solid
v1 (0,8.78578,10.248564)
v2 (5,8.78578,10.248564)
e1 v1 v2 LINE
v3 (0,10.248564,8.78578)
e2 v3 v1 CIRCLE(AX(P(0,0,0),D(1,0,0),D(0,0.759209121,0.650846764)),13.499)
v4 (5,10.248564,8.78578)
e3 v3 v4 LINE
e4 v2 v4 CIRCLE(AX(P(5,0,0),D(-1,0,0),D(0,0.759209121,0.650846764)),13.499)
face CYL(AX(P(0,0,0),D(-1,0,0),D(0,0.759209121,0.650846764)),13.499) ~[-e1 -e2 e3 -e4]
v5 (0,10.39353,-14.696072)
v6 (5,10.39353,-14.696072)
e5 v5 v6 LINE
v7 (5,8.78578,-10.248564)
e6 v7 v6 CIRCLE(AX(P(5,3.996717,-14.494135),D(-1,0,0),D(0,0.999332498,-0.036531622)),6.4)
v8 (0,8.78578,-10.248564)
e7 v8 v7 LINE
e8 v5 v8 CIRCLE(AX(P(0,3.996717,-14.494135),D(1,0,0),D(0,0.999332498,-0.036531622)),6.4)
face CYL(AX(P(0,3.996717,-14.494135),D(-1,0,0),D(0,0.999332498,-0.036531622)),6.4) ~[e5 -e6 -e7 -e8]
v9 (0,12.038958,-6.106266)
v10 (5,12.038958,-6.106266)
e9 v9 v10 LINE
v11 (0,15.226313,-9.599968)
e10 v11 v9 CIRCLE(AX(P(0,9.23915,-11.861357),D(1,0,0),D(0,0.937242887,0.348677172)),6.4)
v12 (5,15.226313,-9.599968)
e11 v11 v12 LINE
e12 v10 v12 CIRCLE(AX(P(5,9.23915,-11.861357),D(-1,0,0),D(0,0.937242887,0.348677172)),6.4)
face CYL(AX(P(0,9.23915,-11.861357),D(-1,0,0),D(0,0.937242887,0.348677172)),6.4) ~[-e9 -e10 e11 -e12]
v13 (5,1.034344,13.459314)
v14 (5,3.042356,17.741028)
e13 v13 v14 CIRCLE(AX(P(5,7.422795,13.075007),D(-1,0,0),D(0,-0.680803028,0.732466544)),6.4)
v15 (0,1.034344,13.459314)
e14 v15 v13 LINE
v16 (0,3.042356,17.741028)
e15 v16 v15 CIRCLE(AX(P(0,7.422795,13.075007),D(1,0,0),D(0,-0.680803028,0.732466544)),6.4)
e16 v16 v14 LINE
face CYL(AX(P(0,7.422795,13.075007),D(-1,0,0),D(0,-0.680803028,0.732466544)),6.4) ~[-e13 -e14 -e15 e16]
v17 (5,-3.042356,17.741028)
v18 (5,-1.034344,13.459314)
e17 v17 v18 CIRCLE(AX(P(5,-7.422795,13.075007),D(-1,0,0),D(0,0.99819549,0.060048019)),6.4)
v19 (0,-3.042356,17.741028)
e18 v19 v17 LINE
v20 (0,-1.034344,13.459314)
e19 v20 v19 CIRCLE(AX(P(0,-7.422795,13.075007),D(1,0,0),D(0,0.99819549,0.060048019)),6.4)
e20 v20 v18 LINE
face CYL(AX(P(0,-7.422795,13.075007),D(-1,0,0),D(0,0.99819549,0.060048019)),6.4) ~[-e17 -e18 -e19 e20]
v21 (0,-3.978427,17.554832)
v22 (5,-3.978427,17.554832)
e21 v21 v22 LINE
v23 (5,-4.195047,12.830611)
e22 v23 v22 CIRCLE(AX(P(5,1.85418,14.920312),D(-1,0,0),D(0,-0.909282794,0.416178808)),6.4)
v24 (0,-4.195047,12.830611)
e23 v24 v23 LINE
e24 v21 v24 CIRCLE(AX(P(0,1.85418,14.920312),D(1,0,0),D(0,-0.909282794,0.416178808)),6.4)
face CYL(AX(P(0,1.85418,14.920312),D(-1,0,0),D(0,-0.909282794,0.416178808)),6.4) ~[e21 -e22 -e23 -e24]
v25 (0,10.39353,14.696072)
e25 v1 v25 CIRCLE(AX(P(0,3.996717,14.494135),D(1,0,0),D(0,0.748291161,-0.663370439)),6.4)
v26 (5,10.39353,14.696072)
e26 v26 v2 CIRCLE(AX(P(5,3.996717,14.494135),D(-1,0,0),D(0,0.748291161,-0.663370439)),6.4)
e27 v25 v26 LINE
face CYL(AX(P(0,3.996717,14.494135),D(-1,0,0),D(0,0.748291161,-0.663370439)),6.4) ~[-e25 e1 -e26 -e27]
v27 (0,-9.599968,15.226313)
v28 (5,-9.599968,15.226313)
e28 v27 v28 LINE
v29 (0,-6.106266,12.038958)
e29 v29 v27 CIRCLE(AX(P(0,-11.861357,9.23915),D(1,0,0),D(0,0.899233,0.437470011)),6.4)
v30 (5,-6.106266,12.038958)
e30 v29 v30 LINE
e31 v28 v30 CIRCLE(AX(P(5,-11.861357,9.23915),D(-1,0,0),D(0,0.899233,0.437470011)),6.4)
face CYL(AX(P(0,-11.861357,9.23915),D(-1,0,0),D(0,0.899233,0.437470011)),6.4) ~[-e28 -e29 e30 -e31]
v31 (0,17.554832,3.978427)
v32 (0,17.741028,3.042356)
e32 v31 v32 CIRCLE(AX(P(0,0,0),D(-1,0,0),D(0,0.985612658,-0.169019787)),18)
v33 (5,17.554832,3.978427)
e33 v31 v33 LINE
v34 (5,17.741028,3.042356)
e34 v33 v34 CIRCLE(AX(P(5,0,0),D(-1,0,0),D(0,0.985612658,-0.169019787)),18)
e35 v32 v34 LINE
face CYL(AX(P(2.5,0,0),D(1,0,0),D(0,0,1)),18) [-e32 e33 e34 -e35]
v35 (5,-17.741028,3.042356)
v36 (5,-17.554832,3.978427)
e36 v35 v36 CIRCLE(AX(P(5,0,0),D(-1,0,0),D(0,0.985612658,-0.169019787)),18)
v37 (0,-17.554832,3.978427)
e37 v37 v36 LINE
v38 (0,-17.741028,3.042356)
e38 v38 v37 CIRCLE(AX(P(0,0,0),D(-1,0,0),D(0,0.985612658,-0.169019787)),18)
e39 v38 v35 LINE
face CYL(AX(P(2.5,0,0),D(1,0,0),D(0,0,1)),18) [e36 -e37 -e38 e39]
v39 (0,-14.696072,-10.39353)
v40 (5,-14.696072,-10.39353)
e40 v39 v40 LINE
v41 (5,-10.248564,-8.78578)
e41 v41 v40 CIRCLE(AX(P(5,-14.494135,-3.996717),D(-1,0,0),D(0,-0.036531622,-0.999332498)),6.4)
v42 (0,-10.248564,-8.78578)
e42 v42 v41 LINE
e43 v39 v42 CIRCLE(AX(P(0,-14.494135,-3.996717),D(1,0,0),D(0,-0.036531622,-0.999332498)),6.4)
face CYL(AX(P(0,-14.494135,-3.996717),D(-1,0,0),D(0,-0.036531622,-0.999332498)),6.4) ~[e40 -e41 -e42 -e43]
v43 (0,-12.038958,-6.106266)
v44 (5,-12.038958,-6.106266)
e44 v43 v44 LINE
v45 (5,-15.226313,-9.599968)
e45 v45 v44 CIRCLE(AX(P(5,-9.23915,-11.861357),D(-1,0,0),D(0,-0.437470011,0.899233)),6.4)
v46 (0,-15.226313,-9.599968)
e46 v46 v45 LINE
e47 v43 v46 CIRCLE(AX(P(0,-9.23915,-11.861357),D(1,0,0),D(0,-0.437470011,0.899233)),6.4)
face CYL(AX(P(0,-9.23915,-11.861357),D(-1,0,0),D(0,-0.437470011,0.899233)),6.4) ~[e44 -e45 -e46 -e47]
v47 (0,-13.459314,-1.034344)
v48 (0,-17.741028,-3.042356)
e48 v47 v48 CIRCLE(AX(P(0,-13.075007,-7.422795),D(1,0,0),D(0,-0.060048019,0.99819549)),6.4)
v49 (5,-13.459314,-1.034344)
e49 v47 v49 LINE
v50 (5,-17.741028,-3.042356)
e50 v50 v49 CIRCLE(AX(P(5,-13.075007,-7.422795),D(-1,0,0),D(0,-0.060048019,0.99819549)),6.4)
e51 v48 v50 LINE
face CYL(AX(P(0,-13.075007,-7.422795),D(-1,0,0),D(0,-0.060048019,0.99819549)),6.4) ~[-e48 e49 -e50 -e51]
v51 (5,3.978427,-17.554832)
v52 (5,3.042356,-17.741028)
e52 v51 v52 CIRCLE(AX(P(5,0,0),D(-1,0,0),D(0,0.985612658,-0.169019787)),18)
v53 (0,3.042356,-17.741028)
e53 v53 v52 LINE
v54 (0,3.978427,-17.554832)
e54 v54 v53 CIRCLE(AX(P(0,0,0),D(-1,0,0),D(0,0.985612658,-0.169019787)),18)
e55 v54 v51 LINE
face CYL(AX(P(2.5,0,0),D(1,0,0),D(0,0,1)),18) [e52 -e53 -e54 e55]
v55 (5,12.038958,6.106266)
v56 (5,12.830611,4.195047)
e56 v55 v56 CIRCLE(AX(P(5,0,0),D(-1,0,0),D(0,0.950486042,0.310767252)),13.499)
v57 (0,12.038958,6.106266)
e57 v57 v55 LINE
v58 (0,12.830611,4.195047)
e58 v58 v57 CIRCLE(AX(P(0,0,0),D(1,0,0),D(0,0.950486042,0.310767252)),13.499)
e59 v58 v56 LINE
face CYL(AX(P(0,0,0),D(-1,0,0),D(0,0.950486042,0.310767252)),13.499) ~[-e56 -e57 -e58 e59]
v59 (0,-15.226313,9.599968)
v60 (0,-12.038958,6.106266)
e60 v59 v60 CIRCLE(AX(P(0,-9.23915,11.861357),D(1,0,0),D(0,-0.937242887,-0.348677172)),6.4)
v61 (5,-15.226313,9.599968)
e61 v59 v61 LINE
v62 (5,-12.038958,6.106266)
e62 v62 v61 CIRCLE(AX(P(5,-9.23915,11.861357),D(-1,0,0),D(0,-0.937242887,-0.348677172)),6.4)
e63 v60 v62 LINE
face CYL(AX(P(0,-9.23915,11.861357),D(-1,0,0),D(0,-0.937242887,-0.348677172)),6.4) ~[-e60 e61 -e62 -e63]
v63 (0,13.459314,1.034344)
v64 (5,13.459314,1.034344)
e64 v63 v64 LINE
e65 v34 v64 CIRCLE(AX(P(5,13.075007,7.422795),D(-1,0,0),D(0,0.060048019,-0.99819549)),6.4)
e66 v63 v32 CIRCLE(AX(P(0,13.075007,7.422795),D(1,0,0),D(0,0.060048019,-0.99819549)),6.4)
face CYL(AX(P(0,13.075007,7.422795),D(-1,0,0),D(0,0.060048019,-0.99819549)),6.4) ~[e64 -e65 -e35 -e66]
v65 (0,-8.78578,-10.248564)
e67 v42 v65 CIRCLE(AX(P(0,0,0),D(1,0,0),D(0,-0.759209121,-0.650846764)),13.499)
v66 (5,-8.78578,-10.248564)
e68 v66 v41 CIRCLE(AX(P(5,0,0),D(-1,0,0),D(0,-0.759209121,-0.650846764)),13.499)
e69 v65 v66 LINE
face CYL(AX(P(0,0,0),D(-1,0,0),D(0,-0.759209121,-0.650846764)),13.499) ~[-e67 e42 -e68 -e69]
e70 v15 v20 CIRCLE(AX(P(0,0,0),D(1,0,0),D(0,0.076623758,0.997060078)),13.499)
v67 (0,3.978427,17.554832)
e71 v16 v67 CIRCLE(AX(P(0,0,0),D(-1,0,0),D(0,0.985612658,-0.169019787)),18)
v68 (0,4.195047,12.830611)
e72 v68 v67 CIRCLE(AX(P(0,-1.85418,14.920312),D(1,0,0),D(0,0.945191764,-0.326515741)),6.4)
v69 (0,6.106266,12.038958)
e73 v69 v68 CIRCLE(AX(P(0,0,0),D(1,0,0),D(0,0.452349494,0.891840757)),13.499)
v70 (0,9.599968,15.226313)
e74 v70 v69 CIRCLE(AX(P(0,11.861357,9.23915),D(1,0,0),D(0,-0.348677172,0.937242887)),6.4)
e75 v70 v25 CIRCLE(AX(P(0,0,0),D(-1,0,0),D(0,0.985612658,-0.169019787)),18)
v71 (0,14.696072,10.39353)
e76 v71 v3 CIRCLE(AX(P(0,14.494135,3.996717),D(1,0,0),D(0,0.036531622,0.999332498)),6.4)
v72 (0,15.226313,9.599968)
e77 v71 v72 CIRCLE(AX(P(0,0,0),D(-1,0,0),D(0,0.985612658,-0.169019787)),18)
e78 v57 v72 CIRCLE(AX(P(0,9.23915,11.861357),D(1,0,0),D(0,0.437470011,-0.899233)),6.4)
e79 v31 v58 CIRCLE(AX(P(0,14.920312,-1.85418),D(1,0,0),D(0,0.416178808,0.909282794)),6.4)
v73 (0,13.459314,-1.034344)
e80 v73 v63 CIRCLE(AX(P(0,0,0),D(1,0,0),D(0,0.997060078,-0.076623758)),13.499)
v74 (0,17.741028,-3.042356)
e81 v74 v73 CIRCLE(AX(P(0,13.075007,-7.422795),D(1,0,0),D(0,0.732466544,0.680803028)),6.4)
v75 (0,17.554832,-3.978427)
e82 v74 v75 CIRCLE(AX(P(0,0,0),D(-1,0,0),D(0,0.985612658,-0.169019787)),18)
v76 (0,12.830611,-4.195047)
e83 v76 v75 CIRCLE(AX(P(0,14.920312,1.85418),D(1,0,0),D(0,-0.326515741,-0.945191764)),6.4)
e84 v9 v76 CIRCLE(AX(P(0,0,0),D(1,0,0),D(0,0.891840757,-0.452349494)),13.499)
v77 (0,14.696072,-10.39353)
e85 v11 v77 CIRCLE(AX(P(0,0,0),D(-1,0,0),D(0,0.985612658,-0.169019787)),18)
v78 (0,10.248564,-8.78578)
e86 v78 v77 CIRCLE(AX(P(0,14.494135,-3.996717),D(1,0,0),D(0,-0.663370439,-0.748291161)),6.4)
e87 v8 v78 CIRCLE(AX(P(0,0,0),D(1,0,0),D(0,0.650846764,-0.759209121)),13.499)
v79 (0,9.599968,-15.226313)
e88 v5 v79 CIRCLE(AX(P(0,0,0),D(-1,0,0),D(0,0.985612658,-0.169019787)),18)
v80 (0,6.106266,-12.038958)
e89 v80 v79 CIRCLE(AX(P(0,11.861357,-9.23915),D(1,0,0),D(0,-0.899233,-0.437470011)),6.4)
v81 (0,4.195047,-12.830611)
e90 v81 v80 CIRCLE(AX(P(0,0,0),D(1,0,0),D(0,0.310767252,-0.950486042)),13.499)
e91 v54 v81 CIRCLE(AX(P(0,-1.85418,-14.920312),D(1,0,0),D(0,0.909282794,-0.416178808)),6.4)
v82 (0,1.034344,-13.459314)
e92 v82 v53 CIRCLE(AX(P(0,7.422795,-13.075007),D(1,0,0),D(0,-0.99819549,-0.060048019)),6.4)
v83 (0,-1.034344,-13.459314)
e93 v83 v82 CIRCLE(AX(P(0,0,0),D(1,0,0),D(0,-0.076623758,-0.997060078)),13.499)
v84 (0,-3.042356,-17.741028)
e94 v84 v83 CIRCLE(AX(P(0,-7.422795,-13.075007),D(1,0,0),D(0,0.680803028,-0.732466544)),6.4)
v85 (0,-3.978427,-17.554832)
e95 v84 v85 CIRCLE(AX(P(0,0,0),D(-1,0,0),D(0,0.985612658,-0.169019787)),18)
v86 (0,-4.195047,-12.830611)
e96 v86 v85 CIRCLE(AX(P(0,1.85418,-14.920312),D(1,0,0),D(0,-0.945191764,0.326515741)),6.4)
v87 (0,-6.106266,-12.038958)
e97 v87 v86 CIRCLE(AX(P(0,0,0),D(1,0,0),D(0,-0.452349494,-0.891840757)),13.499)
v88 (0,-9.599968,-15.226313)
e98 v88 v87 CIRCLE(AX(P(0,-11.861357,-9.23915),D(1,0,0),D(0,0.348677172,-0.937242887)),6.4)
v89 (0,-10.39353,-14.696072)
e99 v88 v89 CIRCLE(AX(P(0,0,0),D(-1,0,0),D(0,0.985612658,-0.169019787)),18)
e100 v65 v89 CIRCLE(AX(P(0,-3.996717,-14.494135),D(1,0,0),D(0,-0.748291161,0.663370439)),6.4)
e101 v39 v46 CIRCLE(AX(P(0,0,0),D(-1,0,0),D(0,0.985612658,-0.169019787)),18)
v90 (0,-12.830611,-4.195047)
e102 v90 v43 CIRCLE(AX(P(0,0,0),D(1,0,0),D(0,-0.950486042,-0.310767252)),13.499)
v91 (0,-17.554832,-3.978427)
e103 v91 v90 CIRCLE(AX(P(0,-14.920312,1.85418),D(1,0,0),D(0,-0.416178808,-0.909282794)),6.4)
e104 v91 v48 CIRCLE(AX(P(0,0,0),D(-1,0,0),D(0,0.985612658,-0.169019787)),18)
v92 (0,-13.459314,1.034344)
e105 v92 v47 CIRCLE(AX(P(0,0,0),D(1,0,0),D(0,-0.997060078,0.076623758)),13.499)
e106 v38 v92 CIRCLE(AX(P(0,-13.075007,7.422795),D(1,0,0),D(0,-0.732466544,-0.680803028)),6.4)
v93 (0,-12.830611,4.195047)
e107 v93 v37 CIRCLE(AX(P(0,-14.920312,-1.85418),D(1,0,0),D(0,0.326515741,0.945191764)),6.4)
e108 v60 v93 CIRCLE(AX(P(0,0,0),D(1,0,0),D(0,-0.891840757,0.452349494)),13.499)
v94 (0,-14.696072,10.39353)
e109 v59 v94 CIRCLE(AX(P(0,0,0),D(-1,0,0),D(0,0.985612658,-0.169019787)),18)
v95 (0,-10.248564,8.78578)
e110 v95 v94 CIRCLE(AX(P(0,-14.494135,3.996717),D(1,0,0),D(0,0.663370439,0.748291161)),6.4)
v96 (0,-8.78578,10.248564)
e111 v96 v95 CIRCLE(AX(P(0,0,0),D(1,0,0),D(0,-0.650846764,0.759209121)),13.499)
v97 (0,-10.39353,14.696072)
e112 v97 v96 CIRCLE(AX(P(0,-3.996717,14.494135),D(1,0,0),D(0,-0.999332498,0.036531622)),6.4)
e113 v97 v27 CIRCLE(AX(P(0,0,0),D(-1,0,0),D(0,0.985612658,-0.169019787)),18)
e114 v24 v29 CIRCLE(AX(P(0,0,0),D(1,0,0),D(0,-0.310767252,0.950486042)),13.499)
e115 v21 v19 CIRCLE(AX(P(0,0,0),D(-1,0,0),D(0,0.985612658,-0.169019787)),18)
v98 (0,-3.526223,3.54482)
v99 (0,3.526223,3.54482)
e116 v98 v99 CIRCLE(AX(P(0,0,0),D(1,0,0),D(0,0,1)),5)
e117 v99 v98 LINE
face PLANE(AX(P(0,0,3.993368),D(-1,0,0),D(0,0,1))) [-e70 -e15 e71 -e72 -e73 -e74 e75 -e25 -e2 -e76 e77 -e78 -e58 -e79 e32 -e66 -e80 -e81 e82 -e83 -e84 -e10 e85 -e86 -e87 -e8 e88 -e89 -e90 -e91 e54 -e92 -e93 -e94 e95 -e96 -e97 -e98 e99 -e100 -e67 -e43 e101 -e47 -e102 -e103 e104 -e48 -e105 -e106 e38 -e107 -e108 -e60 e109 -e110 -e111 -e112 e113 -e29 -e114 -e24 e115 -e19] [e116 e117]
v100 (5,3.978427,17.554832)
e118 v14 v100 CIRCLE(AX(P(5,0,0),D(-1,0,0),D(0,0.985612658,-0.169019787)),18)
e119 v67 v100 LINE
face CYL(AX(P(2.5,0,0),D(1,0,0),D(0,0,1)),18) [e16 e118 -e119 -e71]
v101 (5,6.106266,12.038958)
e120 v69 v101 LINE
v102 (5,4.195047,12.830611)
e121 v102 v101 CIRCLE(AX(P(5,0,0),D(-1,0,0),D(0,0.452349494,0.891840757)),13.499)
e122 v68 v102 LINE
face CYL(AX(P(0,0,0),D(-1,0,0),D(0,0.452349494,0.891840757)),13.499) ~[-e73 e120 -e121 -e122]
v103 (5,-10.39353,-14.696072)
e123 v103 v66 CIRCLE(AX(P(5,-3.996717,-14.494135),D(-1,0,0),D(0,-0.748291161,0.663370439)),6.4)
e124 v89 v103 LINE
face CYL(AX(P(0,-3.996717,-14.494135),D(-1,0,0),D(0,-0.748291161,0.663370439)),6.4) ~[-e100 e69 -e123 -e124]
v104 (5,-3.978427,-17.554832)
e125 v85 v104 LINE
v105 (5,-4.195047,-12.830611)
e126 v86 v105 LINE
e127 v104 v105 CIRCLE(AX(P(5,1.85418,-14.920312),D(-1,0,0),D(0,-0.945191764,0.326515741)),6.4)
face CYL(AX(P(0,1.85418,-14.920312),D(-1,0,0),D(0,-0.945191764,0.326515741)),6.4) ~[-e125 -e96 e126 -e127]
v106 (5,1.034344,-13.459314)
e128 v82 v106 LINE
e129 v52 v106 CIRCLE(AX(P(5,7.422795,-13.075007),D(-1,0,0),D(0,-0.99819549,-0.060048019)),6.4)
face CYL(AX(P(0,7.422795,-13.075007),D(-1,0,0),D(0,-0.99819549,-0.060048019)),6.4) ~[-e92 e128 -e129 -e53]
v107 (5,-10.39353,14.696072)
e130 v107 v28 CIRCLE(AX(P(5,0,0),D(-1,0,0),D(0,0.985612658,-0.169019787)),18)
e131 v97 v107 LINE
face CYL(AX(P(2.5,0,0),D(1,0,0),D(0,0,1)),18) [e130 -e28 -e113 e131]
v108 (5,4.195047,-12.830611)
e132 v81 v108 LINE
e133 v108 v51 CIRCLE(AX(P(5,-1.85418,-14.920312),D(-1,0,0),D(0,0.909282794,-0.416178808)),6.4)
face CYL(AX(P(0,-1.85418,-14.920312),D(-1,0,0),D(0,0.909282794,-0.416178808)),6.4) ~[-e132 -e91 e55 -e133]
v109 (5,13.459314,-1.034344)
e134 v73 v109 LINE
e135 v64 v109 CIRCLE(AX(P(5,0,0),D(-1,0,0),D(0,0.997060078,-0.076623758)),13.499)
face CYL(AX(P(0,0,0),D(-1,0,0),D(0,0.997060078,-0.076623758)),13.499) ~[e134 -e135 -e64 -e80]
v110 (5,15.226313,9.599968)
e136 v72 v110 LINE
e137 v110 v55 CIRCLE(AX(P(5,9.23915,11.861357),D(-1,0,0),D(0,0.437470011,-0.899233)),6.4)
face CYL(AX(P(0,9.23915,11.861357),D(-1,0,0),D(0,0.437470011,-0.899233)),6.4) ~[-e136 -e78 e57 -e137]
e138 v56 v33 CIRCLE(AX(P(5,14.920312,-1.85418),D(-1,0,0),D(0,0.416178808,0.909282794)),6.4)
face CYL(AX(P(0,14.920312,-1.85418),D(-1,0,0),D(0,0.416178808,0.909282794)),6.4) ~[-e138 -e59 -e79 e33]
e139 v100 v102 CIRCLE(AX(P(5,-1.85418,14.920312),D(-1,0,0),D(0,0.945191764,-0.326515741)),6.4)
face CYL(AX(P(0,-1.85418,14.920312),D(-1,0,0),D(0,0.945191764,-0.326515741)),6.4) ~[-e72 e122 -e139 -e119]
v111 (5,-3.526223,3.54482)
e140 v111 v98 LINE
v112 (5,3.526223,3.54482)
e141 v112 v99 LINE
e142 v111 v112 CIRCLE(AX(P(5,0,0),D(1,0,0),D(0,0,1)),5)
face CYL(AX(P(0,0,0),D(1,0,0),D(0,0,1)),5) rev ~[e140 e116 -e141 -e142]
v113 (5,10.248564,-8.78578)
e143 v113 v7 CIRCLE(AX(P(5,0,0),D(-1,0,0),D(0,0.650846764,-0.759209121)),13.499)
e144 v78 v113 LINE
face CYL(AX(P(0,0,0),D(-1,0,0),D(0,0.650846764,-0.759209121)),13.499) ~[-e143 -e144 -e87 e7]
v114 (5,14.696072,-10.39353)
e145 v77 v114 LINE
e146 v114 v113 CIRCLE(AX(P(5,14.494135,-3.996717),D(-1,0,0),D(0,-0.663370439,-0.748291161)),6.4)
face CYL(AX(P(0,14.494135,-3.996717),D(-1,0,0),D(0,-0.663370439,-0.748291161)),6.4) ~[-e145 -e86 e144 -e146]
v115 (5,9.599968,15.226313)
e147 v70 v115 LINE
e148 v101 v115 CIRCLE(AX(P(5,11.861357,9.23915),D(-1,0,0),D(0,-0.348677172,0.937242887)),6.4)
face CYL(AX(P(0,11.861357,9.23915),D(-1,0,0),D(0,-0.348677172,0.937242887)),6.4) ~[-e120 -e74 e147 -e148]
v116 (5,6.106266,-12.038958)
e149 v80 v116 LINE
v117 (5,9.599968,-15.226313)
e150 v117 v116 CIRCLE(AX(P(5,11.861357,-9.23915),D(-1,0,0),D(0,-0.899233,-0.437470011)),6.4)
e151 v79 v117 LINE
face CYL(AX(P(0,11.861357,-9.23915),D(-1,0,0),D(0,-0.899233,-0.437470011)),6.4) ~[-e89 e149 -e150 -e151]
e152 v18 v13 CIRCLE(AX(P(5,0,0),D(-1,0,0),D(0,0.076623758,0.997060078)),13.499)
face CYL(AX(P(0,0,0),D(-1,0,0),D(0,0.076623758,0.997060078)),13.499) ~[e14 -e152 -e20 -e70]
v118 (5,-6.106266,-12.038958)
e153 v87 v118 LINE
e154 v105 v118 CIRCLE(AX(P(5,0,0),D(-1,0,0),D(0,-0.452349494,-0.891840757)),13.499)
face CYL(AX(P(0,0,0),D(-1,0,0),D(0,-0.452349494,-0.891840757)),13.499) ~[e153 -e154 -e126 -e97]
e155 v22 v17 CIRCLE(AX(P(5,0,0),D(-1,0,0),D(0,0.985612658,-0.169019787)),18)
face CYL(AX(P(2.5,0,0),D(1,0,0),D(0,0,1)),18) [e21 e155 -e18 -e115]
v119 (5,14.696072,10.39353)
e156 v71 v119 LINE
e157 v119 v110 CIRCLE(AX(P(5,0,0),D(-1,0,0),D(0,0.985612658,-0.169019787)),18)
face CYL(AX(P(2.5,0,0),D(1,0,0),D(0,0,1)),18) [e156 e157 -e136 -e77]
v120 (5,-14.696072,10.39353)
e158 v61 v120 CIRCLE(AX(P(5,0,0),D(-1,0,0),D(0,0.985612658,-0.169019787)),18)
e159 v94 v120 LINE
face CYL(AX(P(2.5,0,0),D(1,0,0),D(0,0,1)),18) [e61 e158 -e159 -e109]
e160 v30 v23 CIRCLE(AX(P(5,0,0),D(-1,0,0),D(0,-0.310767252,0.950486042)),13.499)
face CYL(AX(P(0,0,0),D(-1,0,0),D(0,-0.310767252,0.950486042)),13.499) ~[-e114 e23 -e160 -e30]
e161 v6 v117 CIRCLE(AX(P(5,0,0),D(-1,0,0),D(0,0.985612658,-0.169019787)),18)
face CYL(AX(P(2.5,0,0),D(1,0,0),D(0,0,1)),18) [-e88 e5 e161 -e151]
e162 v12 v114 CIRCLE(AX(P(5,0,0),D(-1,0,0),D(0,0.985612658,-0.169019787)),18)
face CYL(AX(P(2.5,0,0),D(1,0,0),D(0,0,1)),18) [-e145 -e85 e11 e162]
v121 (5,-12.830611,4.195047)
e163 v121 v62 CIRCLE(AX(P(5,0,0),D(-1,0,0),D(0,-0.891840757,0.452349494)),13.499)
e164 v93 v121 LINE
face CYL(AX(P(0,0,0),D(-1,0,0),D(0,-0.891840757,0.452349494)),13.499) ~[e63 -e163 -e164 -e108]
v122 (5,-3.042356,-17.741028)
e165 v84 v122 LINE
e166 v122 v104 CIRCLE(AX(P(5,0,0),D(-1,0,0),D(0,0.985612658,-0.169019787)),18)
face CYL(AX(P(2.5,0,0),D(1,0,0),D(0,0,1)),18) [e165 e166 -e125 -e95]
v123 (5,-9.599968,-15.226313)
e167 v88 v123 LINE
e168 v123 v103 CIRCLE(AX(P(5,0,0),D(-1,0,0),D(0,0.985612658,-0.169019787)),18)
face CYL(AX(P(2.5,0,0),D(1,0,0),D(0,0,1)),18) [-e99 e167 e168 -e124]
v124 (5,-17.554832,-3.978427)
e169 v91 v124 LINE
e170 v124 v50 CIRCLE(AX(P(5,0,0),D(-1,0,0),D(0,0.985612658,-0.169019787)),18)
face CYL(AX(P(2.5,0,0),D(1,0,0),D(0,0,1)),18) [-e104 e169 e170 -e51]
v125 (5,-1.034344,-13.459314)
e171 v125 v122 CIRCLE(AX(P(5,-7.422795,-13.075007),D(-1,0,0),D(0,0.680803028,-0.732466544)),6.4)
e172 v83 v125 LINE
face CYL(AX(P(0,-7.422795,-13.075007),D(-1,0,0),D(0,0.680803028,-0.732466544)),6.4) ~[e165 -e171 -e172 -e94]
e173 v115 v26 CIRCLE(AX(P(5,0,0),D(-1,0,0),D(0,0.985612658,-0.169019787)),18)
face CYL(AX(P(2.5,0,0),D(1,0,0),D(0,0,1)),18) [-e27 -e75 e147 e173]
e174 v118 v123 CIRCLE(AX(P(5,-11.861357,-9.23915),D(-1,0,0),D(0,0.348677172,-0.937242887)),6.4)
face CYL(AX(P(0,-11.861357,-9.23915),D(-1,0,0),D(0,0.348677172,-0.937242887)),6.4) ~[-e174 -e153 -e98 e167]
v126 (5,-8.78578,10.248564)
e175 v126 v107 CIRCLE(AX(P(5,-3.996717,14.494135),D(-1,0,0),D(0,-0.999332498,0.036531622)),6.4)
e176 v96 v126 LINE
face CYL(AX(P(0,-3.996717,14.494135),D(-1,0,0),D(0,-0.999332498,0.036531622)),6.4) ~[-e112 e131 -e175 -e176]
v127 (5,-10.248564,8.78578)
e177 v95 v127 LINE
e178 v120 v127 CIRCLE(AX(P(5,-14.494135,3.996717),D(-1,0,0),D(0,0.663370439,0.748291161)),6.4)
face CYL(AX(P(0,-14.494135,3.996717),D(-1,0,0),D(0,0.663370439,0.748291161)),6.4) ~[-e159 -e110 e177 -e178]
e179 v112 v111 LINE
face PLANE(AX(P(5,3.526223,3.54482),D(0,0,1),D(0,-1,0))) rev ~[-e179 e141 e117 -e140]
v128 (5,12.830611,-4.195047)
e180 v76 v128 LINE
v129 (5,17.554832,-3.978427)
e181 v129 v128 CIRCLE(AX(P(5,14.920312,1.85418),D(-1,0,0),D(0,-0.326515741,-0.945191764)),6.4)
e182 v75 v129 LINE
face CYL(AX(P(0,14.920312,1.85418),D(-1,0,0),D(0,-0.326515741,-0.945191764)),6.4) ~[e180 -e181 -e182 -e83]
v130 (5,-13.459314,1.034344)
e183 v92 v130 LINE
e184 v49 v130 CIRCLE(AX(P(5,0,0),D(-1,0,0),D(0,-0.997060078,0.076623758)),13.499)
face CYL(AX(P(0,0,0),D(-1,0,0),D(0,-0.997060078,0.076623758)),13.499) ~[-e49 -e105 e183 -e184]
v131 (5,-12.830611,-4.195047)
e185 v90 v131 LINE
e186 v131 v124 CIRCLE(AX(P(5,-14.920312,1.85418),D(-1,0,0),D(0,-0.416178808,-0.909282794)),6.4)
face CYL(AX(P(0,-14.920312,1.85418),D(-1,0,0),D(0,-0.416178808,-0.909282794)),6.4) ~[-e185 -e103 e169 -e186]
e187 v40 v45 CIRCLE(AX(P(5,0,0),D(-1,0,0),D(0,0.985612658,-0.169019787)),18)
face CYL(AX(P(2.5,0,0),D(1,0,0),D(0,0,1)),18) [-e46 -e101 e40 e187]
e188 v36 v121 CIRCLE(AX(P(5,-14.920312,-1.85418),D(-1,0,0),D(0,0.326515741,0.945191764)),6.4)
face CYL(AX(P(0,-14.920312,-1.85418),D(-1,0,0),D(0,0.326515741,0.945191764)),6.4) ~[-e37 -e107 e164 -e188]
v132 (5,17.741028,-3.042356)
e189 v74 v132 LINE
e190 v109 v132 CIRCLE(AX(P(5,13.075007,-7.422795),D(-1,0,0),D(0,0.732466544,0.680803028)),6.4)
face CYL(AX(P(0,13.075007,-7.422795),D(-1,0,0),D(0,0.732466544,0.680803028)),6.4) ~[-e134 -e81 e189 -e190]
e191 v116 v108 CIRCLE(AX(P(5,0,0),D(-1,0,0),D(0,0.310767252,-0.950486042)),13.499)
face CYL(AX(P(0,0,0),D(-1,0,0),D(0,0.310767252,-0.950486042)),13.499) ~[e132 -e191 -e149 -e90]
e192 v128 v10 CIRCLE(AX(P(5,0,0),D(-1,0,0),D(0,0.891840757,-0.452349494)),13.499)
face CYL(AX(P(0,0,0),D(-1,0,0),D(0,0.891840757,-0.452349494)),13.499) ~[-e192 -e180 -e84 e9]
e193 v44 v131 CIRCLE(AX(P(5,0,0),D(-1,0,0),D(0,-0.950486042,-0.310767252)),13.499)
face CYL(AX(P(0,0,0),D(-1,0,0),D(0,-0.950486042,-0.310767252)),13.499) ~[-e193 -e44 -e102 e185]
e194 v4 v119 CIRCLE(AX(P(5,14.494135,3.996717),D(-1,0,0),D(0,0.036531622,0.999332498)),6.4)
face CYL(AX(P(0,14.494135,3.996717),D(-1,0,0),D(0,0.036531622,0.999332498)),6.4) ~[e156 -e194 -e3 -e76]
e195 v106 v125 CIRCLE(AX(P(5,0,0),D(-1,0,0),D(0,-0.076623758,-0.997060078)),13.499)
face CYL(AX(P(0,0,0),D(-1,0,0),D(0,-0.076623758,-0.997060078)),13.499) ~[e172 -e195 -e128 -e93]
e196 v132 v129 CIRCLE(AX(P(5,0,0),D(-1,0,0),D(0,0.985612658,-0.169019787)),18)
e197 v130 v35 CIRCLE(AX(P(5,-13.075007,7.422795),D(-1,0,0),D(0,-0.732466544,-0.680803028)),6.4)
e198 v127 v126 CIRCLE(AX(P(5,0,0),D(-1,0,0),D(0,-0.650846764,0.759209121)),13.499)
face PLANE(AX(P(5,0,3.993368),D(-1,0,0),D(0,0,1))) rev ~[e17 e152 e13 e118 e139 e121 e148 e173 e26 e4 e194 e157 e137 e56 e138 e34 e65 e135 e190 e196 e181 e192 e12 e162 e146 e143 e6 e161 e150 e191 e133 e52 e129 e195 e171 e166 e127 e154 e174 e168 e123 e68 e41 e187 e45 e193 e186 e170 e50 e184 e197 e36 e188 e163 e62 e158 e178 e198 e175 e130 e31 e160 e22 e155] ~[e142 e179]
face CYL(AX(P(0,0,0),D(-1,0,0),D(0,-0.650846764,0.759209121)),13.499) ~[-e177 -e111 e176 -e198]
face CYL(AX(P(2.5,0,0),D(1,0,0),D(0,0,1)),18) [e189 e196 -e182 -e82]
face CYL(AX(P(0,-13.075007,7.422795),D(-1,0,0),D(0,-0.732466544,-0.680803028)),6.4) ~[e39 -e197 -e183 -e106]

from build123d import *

# Parameters (mm, degrees)
BASPROSKE_W     = 5
BASPROSKE_H     = 18
TOOTHCUT_DEPTH  = 26.942243542
TEETHCUTS_COUNT = 16
TEETHCUTS_ANGLE = 337.5
BORSKE_R        = 5
BORE_DEPTH      = 50.0000508
EXTRUDE_START   = -5
EXTRUDE_1_DEPTH = 5


with BuildPart() as part:
    # BasProSke → Base-Revolve (revolve)
    with BuildSketch(Plane(origin=(0, 0, 0), x_dir=(1, 0, 0), z_dir=(0, 1, 0)), mode=Mode.PRIVATE) as base_revolve_sk:
        with Locations((2.5, 9)):
            Rectangle(BASPROSKE_W, BASPROSKE_H)
    revolve(base_revolve_sk.sketch.rotate(Axis((-10, 0, 0), (1, 0, 0)), 180), axis=Axis((-10, 0, 0), (1, 0, 0)))

    # TooCutSke → ToothCut (cut, through all)
    with BuildSketch(Plane(origin=(0, 0, 0), x_dir=(0, 0, -1), z_dir=(1, 0, 0))):
        with BuildLine():
            ThreePointArc((1.03434411, 13.459313997), (0, 13.499), (-1.03434411, 13.459313997))
            ThreePointArc((-1.03434411, 13.459313997), (-1.635143665, 15.806872195), (-3.065655864, 17.762792553))
            ThreePointArc((-3.065655864, 17.762792553), (0, 18.0254), (3.065655864, 17.762792553))
            ThreePointArc((3.065655864, 17.762792553), (1.635143665, 15.806872195), (1.03434411, 13.459313997))
        make_face()
    toothcut = extrude(amount=TOOTHCUT_DEPTH, mode=Mode.SUBTRACT)

    # TeethCuts: ToothCut ×16 about axis
    teethcuts_axis = Axis((-10, 0, 0), (1, 0, 0))
    for i in range(1, TEETHCUTS_COUNT):
        add(toothcut.rotate(teethcuts_axis, i * TEETHCUTS_ANGLE / (TEETHCUTS_COUNT - 1)), mode=Mode.SUBTRACT)

    # BorSke → Bore (cut, symmetric)
    with BuildSketch(Plane(origin=(0, 0, 0), x_dir=(0, 0, -1), z_dir=(1, 0, 0))):
        with Locations(Location((0, 0, 0), (0, 0, 180))):
            Circle(BORSKE_R)
    extrude(amount=BORE_DEPTH, both=True, mode=Mode.SUBTRACT)

    # 草图2 → 凸台-拉伸1 (add)
    with BuildSketch(Plane.ZY.offset(EXTRUDE_START)):
        with BuildLine():
            Line((3.544820497, 3.526222858), (3.544820497, -3.526222858))
            ThreePointArc((3.544820497, -3.526222858), (5, 0), (3.544820497, 3.526222858))
        make_face()
    extrude(amount=EXTRUDE_1_DEPTH)


solid = part.part
